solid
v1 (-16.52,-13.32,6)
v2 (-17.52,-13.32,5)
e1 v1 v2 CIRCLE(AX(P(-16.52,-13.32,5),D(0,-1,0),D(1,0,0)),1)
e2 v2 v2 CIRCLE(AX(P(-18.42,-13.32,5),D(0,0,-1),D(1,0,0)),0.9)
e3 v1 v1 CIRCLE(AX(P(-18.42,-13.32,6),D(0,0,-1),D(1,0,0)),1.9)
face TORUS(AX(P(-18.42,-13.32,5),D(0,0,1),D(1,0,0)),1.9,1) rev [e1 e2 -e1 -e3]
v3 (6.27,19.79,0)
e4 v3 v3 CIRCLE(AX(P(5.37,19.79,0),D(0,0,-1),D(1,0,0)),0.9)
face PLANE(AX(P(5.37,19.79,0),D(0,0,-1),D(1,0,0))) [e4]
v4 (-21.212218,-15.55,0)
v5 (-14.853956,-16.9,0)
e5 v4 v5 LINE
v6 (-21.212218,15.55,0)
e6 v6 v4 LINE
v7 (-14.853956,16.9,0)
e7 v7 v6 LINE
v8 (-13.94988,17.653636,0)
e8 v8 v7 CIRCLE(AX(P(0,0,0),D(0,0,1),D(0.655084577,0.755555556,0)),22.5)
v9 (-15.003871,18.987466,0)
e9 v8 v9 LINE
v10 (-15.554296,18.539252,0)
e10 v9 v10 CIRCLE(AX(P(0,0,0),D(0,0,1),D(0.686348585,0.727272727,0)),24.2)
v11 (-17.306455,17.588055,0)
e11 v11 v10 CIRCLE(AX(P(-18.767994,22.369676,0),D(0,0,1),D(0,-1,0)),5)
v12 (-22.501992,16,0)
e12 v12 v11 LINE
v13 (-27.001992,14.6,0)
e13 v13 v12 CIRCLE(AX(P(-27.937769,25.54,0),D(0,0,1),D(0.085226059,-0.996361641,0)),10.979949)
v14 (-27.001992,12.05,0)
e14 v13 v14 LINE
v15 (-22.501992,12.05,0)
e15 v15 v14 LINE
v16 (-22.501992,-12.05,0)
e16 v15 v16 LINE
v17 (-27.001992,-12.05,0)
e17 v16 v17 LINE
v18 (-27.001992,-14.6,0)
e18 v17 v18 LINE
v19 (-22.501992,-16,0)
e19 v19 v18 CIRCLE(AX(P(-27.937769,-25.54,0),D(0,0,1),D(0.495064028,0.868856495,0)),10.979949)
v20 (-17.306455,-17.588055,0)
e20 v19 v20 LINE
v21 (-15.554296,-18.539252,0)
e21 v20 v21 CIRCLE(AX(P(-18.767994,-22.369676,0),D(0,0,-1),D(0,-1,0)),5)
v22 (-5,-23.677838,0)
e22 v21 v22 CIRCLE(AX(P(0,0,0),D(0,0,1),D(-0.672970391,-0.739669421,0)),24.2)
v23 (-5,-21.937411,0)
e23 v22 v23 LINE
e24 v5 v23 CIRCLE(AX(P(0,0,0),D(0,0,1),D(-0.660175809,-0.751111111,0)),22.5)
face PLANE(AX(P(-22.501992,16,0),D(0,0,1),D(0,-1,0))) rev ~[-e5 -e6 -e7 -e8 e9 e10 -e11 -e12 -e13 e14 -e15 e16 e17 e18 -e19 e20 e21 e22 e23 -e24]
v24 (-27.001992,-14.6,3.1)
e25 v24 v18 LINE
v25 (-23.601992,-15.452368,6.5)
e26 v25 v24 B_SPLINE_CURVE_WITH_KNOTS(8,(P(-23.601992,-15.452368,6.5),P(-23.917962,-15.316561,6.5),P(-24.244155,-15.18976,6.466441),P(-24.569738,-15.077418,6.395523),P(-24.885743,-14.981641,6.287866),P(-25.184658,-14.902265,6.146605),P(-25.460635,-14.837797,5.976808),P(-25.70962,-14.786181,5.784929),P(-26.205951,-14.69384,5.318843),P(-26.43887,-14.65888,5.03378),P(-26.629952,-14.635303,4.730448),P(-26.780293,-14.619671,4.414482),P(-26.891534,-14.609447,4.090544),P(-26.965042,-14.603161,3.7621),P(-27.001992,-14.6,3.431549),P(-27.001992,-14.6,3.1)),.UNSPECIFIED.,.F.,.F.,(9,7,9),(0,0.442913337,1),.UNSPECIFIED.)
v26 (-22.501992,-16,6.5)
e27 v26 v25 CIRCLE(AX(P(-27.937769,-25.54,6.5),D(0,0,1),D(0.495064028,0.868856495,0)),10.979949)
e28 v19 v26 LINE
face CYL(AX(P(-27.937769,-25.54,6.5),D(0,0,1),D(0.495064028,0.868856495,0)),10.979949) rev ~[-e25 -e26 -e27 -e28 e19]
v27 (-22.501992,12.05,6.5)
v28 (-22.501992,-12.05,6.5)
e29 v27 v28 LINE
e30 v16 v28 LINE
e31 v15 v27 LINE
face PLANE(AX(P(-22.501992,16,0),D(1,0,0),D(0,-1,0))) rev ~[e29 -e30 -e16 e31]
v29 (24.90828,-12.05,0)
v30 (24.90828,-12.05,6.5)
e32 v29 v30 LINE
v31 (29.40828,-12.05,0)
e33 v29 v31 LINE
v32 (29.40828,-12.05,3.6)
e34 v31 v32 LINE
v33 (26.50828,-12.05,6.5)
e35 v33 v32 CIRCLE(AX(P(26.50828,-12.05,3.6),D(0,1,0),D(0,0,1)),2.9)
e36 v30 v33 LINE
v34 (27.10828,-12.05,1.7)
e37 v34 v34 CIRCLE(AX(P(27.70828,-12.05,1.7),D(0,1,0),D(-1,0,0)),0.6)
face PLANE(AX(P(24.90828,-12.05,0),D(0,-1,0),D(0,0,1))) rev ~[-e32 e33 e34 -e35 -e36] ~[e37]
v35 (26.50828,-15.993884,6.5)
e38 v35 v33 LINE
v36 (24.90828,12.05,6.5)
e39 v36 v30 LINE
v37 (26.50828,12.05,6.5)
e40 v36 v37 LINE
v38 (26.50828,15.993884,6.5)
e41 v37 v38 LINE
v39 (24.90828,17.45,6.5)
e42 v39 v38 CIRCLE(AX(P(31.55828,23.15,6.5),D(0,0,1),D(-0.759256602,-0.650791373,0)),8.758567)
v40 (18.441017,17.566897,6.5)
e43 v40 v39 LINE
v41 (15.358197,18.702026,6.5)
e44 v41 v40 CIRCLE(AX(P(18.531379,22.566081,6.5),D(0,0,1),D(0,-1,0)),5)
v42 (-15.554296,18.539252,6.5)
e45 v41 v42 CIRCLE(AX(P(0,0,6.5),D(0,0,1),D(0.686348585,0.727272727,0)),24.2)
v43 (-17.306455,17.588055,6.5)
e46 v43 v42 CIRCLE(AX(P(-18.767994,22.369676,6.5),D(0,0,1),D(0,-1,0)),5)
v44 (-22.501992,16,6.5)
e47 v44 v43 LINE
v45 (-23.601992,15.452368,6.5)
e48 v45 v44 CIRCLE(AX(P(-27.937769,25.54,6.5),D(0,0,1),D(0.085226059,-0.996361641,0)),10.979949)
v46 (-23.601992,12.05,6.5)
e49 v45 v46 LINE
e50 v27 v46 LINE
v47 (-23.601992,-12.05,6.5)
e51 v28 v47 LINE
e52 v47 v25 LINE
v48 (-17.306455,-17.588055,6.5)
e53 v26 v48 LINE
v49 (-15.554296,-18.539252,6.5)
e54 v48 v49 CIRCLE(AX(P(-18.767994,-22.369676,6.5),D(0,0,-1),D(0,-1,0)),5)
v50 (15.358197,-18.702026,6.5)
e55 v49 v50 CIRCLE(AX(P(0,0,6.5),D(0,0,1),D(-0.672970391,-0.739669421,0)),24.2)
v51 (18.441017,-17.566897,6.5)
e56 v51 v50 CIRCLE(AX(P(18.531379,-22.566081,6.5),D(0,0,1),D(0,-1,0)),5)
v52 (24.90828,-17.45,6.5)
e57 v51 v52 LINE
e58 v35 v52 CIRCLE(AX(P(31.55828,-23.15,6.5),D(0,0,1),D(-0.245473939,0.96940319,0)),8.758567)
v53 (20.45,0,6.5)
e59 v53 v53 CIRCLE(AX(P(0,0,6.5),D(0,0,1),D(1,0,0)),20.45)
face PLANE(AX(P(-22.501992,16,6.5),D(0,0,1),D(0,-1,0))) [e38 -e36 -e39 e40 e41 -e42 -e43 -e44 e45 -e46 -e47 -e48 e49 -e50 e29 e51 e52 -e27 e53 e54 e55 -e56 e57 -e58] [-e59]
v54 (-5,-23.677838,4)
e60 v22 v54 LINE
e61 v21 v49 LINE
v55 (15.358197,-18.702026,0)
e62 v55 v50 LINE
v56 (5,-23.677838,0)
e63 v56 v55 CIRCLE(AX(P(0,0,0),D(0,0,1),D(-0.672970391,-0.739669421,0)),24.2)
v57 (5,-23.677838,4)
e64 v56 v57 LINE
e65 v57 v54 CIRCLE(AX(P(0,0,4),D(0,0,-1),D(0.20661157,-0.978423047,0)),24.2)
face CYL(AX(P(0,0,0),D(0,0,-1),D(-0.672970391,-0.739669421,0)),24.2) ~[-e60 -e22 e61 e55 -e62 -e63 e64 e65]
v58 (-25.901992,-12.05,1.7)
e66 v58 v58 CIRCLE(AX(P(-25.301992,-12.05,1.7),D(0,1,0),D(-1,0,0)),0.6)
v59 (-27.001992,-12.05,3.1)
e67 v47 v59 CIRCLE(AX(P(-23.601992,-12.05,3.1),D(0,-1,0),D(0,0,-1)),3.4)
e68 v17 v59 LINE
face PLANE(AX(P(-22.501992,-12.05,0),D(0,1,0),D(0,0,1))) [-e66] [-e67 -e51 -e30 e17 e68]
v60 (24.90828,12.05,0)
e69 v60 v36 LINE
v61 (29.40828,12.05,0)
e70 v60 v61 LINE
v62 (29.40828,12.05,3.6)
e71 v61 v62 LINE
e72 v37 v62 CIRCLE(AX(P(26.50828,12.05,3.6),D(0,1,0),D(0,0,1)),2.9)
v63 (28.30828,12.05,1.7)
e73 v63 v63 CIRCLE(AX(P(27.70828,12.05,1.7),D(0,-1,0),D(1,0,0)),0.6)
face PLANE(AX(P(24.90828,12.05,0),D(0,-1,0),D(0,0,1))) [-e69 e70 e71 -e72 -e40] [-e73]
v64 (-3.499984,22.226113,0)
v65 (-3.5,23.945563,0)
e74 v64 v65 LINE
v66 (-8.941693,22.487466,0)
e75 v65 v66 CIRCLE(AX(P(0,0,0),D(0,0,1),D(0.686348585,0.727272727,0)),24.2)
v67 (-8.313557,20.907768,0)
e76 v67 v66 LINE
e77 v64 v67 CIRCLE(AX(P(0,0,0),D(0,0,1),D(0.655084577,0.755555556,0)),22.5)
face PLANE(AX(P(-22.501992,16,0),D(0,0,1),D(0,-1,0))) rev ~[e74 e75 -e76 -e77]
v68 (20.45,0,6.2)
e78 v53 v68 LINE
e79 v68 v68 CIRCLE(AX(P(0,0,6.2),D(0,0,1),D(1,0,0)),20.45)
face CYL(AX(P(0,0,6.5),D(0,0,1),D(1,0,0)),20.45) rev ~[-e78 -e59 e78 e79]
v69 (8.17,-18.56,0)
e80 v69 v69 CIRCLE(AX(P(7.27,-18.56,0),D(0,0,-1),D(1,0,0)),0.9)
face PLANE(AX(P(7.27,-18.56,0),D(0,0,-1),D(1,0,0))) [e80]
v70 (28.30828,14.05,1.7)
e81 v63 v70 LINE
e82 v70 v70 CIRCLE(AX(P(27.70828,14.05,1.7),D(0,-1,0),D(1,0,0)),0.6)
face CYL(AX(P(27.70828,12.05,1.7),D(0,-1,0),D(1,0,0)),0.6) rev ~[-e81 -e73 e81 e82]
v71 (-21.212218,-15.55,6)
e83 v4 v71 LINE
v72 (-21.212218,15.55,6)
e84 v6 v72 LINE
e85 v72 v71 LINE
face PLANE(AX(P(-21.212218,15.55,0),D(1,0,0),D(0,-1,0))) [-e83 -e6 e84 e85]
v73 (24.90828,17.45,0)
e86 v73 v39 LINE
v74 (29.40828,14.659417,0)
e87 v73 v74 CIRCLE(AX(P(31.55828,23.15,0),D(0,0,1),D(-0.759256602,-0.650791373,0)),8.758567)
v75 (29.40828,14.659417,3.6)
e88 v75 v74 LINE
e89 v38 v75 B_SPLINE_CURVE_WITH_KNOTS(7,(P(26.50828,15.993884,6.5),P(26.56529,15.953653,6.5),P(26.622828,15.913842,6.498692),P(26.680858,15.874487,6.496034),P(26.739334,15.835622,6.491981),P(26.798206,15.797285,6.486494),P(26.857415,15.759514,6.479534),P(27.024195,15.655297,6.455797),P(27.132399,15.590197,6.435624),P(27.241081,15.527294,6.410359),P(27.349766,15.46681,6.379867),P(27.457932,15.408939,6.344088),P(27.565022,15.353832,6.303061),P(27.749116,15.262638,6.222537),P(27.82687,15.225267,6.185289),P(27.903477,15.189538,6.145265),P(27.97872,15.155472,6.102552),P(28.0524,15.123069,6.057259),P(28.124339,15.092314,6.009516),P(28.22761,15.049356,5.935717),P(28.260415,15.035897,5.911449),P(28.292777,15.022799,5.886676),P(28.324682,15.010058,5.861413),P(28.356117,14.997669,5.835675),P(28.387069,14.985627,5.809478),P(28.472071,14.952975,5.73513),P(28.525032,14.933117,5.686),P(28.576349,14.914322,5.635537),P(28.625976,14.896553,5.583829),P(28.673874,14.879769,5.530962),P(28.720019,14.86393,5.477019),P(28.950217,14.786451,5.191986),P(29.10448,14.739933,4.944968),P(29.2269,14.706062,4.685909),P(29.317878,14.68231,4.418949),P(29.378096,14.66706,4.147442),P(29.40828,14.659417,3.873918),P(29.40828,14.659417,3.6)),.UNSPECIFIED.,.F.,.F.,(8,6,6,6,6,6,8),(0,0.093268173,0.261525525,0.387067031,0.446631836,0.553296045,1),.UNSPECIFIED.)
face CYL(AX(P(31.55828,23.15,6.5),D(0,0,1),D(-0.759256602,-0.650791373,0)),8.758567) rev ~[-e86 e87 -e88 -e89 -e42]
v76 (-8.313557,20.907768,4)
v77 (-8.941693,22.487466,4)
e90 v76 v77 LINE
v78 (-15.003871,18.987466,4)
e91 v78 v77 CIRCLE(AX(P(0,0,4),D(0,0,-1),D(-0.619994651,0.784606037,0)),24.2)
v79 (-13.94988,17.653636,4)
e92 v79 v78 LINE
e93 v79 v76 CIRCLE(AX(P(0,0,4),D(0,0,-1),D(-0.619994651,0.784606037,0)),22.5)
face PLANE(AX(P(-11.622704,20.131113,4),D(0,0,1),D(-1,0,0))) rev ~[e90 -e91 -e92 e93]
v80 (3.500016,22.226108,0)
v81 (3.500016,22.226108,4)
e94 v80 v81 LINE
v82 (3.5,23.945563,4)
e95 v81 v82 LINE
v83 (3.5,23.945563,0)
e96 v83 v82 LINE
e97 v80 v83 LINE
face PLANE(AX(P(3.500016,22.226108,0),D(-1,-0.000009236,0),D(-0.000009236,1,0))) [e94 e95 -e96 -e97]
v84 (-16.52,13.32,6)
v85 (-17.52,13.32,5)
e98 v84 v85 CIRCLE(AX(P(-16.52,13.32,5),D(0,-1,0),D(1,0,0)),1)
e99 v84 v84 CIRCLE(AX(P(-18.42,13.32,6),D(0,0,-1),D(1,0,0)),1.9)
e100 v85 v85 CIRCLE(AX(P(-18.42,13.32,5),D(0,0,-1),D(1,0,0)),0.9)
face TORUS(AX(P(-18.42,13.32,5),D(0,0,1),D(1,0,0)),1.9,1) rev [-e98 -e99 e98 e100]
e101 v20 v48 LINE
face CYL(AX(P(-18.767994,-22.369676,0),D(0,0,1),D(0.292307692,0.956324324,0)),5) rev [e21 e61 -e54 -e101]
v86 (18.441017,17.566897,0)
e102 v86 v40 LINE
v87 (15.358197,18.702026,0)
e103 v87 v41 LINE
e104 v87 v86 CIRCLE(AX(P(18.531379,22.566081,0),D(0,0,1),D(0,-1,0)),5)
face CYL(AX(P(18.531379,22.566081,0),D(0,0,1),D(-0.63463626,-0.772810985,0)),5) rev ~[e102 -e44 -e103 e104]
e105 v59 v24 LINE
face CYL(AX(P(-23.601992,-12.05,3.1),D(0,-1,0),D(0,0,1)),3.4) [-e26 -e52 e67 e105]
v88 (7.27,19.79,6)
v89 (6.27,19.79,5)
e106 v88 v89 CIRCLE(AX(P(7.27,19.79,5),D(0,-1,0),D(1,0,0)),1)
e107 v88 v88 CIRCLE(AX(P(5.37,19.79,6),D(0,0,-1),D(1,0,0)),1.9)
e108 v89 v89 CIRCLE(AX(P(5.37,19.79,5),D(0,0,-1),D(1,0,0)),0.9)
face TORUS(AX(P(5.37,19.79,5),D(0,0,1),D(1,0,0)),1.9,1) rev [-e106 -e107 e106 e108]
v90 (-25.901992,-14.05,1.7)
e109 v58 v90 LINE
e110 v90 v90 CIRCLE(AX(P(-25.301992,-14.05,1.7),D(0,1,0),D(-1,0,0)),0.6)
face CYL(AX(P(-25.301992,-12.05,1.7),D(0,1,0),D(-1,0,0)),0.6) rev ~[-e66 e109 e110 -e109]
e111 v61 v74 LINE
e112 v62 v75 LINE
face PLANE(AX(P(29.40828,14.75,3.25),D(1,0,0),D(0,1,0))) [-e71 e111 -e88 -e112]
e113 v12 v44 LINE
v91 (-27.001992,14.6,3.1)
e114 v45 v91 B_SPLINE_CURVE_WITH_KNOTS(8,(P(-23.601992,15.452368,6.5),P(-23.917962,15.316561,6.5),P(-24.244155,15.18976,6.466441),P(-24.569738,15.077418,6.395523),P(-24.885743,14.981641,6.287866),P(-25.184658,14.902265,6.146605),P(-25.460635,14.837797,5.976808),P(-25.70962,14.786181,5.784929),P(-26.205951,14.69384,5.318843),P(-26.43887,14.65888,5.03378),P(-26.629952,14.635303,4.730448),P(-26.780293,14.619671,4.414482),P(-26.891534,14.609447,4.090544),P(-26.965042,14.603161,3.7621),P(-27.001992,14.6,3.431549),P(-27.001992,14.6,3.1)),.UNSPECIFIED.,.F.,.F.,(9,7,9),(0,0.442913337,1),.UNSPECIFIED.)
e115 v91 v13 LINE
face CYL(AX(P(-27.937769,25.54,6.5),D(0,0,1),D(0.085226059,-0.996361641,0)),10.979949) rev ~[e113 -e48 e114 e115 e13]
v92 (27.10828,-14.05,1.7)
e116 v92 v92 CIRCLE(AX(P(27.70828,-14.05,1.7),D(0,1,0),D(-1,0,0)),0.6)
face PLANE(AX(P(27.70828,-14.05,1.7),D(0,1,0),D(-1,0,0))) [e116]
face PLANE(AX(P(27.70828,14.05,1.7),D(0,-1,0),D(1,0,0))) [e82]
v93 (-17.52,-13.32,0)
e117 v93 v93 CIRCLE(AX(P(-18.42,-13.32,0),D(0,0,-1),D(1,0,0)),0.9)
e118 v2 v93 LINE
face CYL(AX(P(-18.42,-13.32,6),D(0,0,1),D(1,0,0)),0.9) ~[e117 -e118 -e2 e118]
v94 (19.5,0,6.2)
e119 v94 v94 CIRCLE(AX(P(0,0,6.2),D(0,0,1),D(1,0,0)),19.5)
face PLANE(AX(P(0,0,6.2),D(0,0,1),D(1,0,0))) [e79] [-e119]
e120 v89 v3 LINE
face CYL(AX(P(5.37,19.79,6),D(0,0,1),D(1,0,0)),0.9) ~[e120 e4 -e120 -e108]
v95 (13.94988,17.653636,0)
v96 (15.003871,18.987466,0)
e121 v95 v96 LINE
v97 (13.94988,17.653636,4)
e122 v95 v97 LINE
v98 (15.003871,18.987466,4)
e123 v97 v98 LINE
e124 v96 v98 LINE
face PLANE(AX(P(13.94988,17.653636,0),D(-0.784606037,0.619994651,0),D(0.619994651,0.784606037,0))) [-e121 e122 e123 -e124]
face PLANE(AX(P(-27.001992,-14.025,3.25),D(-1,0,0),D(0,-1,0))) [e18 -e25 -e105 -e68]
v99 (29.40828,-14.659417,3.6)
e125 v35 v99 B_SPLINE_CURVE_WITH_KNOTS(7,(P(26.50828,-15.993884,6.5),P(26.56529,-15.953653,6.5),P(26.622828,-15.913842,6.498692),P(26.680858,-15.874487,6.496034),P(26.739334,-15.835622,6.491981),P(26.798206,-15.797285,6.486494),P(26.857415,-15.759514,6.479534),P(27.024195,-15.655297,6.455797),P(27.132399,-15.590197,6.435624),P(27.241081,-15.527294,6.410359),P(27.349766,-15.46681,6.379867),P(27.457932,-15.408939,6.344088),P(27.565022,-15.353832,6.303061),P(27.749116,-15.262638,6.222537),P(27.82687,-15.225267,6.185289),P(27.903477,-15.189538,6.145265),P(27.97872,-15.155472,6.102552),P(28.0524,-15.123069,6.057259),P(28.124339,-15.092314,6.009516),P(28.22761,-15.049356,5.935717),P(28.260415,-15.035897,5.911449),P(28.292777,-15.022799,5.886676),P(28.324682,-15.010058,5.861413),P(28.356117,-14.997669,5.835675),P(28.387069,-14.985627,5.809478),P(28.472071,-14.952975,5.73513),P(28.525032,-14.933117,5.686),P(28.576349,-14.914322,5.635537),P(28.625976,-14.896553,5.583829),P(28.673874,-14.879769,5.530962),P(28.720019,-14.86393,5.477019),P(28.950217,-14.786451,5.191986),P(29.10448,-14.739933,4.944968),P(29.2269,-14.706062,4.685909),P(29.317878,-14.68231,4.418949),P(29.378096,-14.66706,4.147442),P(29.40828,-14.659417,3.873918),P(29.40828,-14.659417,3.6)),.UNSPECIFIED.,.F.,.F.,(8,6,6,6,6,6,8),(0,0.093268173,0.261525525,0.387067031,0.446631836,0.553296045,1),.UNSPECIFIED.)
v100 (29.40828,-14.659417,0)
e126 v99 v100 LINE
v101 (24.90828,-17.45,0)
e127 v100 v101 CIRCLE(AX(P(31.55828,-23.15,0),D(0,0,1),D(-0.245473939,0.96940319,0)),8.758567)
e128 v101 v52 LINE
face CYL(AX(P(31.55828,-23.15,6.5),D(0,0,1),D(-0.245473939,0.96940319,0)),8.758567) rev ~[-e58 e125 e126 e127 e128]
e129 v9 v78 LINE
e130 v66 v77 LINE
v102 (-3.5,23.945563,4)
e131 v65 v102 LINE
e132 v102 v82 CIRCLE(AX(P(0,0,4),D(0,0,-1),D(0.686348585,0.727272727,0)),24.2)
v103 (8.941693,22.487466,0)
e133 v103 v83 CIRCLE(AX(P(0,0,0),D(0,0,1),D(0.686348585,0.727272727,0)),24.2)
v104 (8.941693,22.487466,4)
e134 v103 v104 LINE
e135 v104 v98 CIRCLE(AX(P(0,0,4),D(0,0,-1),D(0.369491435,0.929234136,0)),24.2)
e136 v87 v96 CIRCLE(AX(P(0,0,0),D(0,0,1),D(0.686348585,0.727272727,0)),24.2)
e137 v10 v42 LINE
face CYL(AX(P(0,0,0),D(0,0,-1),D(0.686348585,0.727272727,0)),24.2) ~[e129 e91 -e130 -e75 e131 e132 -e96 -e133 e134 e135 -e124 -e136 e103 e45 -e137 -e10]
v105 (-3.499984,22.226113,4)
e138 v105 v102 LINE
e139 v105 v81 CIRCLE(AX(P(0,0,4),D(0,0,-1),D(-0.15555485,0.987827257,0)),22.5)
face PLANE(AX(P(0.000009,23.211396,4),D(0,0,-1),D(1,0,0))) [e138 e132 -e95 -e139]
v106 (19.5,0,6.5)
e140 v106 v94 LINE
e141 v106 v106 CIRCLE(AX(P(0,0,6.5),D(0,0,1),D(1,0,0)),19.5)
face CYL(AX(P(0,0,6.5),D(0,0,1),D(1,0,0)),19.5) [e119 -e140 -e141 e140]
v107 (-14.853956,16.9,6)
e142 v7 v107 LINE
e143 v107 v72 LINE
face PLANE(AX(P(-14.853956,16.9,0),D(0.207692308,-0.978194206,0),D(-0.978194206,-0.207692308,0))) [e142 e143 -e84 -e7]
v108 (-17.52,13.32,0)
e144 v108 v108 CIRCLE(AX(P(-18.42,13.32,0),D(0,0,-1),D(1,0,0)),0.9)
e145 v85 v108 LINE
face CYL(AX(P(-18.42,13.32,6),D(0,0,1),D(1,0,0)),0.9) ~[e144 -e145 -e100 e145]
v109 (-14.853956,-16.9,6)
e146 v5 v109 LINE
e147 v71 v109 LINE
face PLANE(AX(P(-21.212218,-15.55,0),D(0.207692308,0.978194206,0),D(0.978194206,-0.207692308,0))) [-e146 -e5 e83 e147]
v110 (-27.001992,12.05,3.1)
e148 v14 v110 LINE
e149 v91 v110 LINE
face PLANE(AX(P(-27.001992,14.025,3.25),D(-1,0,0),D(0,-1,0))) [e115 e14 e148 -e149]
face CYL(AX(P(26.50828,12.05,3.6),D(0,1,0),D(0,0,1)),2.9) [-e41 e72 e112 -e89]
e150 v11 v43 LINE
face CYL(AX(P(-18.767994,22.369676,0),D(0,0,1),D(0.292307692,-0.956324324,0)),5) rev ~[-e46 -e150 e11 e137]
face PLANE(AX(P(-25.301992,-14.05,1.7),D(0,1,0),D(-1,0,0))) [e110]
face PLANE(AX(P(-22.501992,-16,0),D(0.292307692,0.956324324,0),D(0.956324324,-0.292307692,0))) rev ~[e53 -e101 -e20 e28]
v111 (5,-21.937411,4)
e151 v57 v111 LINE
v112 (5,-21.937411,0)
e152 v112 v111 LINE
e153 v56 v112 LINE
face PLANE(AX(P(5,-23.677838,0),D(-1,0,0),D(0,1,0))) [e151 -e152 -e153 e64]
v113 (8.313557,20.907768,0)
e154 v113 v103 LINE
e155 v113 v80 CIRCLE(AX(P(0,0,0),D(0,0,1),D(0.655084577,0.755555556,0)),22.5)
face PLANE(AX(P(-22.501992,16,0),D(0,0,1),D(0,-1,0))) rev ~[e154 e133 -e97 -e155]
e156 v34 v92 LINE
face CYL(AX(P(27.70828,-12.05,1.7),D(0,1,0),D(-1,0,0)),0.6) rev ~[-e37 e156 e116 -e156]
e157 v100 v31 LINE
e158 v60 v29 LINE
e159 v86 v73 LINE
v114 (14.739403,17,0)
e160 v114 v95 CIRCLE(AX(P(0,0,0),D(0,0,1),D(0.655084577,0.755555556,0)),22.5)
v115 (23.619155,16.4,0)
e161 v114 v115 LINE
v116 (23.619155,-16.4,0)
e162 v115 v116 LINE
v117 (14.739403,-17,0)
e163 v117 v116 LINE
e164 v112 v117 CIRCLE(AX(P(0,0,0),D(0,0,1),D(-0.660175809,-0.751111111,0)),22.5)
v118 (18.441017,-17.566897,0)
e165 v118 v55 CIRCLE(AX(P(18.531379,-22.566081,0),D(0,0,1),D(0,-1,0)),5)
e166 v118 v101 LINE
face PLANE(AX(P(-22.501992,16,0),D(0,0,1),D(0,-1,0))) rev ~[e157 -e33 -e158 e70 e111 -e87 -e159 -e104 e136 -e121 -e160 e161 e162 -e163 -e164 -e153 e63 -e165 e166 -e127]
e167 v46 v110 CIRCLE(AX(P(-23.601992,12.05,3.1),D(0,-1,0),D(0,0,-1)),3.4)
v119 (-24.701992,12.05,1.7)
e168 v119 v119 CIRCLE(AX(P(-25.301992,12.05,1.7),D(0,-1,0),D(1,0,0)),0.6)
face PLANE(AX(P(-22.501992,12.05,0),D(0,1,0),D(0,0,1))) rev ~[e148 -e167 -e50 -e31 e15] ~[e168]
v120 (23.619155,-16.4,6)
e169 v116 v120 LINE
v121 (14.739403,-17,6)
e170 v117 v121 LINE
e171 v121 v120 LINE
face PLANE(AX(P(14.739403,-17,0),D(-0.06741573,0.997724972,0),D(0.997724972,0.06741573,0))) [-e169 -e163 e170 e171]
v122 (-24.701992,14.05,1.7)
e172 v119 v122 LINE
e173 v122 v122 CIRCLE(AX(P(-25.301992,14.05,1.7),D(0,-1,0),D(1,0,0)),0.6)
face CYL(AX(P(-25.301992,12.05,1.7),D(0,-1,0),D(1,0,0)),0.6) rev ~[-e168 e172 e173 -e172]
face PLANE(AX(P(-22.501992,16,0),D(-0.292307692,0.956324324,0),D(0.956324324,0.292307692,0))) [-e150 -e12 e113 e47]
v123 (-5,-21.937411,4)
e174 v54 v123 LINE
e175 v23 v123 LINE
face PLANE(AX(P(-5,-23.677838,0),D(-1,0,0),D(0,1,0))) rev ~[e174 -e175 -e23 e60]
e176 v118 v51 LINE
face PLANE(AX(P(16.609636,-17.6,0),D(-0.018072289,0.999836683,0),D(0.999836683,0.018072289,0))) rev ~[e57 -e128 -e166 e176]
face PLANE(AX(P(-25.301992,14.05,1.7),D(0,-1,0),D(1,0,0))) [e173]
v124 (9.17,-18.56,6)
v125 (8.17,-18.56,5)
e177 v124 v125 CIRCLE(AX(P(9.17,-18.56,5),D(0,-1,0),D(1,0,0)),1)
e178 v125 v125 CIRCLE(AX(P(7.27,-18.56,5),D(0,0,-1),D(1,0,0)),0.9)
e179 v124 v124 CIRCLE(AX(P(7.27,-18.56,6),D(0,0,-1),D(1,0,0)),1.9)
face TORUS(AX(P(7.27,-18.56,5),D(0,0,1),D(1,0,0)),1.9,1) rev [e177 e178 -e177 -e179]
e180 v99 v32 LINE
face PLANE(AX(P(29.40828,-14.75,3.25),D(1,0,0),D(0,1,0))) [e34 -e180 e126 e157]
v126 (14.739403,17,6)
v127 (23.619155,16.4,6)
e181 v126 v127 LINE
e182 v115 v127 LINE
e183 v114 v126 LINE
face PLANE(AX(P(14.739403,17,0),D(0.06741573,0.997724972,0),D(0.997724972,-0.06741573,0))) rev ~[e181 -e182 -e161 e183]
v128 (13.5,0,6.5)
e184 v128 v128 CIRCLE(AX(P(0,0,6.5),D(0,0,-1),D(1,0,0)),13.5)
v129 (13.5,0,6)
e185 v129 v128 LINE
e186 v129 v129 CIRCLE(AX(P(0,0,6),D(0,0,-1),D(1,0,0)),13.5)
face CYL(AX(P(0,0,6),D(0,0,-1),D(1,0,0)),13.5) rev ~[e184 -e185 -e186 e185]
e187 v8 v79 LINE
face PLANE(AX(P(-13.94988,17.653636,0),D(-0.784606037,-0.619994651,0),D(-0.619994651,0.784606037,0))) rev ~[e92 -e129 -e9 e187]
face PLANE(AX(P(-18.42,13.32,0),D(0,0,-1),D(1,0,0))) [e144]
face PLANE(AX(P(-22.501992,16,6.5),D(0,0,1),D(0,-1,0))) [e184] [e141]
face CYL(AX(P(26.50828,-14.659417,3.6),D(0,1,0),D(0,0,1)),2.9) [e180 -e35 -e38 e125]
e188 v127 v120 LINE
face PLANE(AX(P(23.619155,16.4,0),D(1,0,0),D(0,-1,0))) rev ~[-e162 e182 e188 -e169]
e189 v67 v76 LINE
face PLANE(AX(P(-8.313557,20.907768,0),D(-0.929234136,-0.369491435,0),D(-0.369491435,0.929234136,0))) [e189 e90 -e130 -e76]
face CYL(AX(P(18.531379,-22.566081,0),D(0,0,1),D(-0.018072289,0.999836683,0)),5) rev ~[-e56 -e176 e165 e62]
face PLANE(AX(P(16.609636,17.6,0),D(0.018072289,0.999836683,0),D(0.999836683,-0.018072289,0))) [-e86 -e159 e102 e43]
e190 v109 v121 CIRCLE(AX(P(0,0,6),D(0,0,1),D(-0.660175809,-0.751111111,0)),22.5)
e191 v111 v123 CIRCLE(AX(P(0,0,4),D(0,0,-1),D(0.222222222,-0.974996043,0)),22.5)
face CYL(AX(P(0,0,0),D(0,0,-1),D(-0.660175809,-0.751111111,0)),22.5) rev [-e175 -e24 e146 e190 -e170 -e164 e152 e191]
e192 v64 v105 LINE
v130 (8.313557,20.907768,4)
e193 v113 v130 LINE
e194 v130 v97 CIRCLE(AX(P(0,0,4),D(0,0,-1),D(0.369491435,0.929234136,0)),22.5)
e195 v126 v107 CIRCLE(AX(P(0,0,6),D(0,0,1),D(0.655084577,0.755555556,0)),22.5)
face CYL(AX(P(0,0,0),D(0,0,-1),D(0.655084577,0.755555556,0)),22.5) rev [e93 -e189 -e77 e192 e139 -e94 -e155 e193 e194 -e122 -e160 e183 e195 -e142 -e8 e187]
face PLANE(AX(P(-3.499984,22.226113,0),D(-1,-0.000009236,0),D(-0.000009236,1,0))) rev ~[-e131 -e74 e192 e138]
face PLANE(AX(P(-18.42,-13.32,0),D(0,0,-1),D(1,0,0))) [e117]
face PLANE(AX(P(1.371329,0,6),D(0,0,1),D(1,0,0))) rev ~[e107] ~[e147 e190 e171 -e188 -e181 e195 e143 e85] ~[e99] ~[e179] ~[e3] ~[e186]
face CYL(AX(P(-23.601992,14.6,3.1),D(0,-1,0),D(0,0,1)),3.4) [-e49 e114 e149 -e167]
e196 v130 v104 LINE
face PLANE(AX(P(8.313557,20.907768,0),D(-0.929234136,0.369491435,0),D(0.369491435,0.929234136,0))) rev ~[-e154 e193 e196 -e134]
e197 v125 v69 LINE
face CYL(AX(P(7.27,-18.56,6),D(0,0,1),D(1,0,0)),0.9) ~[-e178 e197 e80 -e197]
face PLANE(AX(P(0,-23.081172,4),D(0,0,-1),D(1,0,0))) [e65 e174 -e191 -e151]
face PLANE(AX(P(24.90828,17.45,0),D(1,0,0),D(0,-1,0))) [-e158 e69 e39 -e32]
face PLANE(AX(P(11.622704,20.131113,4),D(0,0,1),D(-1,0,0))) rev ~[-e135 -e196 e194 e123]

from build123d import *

# Parameters (mm, degrees)
PAD_DEPTH       = 6.5
POCKET_DEPTH    = 6
SKETCH002_R     = 13.5
POCKET001_DEPTH = 1
SKETCH003_W     = 5.4
SKETCH003_H     = 6.5
PAD001_DEPTH    = 4.5
POCKET002_DEPTH = 10
SKETCH008_R     = 0.6
POCKET003_DEPTH = 2
SKETCH009_R     = 0.6
POCKET004_DEPTH = 2
FILLET_R        = 2.9
FILLET001_R     = 2.9
FILLET002_R     = 5
FILLET003_R     = 5
FILLET004_R     = 5
FILLET005_R     = 5
SKETCH010_W     = 3.95
SKETCH010_H     = 6.5
PAD002_DEPTH    = 4.5
POCKET005_DEPTH = 10
SKETCH012_R     = 0.6
POCKET006_DEPTH = 2
SKETCH013_R     = 0.6
POCKET007_DEPTH = 2
FILLET006_R     = 3.4
FILLET007_R     = 3.4
SKETCH014_R     = 20.45
SKETCH014_R_2   = 19.5
POCKET008_DEPTH = 0.3
SKETCH015_R     = 0.9
PAD003_DEPTH    = 6
FILLET008_R     = 1
POCKET009_DEPTH = 4
POCKET010_DEPTH = 4


with BuildPart() as part:
    # Sketch → Pad (new body)
    with BuildSketch(Plane.XY):
        with BuildLine():
            Line((-22.5019915649, 16), (-22.5019915649, -16))
            Line((-22.5019915649, -16), (-16.2858834578, -17.9000000001))
            ThreePointArc((-16.2858834577, -17.9000000001), (0.2206895737, -24.1989937004), (16.6096357576, -17.5999999999))
            Line((16.6096357576, -17.6), (24.9082802252, -17.45))
            Line((24.9082802252, 17.45), (24.9082802252, -17.45))
            Line((16.6096357576, 17.6), (24.9082802252, 17.45))
            ThreePointArc((16.6096357576, 17.6), (0.2206895736, 24.1989937004), (-16.2858834578, 17.9))
            Line((-22.5019915649, 16), (-16.2858834578, 17.9))
        make_face()
    extrude(amount=PAD_DEPTH)

    # Sketch001 → Pocket (cut)
    with BuildSketch(Plane.XY):
        with BuildLine():
            Line((-14.8539557021, 16.9), (-21.2122180433, 15.55))
            Line((-21.2122180433, 15.55), (-21.2122180433, -15.55))
            Line((-21.2122180433, -15.55), (-14.8539557021, -16.9))
            ThreePointArc((-14.8539557021, -16.9), (-0.0760301383, -22.4998715423), (14.739402973, -17))
            Line((14.739402973, -17), (23.6191552218, -16.4))
            Line((23.6191552218, 16.4), (23.6191552218, -16.4))
            Line((14.739402973, 17), (23.6191552218, 16.4))
            ThreePointArc((14.739402973, 17), (-0.0760301383, 22.4998715423), (-14.8539557021, 16.9))
        make_face()
    extrude(amount=POCKET_DEPTH, mode=Mode.SUBTRACT)

    # Sketch002 (on Face19 of Pocket) → Pocket001 (cut)
    with BuildSketch(Plane(origin=(0, 0, 6), x_dir=(1, 0, 0), z_dir=(0, 0, -1))):
        Circle(SKETCH002_R)
    extrude(amount=-POCKET001_DEPTH, mode=Mode.SUBTRACT)

    # Sketch003 (on Face6 of Pocket001) → Pad001 (join)
    with BuildSketch(Plane.YZ.offset(24.9082802252)):
        with Locations((-14.75, 3.25)):
            Rectangle(SKETCH003_W, SKETCH003_H)
        with Locations((14.75, 3.25)):
            Rectangle(SKETCH003_W, SKETCH003_H)
    extrude(amount=PAD001_DEPTH)

    # Sketch006 → Pocket002 (cut)
    with BuildSketch(Plane.XY.offset(6.5)):
        with BuildLine():
            ThreePointArc((24.9082802253, 17.45), (26.9423471239, 15.7065020586), (29.4082802252, 14.6594169812))
            Line((29.4082802252, 17.45), (29.4082802252, 14.6594169812))
            Line((29.4082802252, 17.45), (24.9082802252, 17.45))
        make_face()
        with BuildLine():
            ThreePointArc((29.4082802253, -14.6594169812), (26.9423471239, -15.7065020586), (24.9082802253, -17.45))
            Line((29.4082802252, -17.45), (24.9082802252, -17.45))
            Line((29.4082802252, -14.6594169811), (29.4082802252, -17.45))
        make_face()
    extrude(amount=-POCKET002_DEPTH, mode=Mode.SUBTRACT)

    # Sketch008 (on Face27 of Pocket002) → Pocket003 (cut)
    with BuildSketch(Plane(origin=(0, -12.05, 0), x_dir=(-1, 0, 0), z_dir=(0, 1, 0))):
        with Locations((-27.7082802252, 1.7)):
            Circle(SKETCH008_R)
    extrude(amount=-POCKET003_DEPTH, mode=Mode.SUBTRACT)

    # Sketch009 (on Face26 of Pocket003) → Pocket004 (cut)
    with BuildSketch(Plane.XZ.offset(-12.05)):
        with Locations((27.7082802252, 1.7)):
            Circle(SKETCH009_R)
    extrude(amount=-POCKET004_DEPTH, mode=Mode.SUBTRACT)

    # Fillet
    fillet_edges = [part.edges().sort_by_distance(p)[0] for p in [
        (29.40828, -13.354708, 6.5),
    ]]
    fillet(fillet_edges, radius=FILLET_R)

    # Fillet001
    fillet001_edges = [part.edges().sort_by_distance(p)[0] for p in [
        (29.40828, 13.354708, 6.5),
    ]]
    fillet(fillet001_edges, radius=FILLET001_R)

    # Fillet002
    fillet002_edges = [part.edges().sort_by_distance(p)[0] for p in [
        (16.609636, -17.6, 3.25),
    ]]
    fillet(fillet002_edges, radius=FILLET002_R)

    # Fillet003
    fillet003_edges = [part.edges().sort_by_distance(p)[0] for p in [
        (16.609636, 17.6, 3.25),
    ]]
    fillet(fillet003_edges, radius=FILLET003_R)

    # Fillet004
    fillet004_edges = [part.edges().sort_by_distance(p)[0] for p in [
        (-16.285883, -17.9, 3.25),
    ]]
    fillet(fillet004_edges, radius=FILLET004_R)

    # Fillet005
    fillet005_edges = [part.edges().sort_by_distance(p)[0] for p in [
        (-16.285883, 17.9, 3.25),
    ]]
    fillet(fillet005_edges, radius=FILLET005_R)

    # Sketch010 (on Face4 of Fillet005) → Pad002 (join)
    with BuildSketch(Plane(origin=(-22.5019915649, 0, 0), x_dir=(0, -1, 0), z_dir=(-1, 0, 0))):
        with Locations((-14.025, 3.25)):
            Rectangle(SKETCH010_W, SKETCH010_H)
        with Locations((14.025, 3.25)):
            Rectangle(SKETCH010_W, SKETCH010_H)
    extrude(amount=PAD002_DEPTH)

    # Sketch011 (on Face6 of Pad002) → Pocket005 (cut)
    with BuildSketch(Plane.XY.offset(6.5)):
        with BuildLine():
            ThreePointArc((-27.0019915649, 14.6), (-24.6759937451, 15.0557212933), (-22.5019915649, 16))
            Line((-22.5019915649, 16), (-27.0019915649, 16))
            Line((-27.0019915649, 16), (-27.0019915649, 14.6))
        make_face()
        with BuildLine():
            ThreePointArc((-22.5019915649, -16), (-24.6759937451, -15.0557212933), (-27.0019915649, -14.6))
            Line((-27.0019915649, -14.6), (-27.0019915649, -16))
            Line((-27.0019915649, -16), (-22.5019915649, -16))
        make_face()
    extrude(amount=-POCKET005_DEPTH, mode=Mode.SUBTRACT)

    # Sketch012 (on Face23 of Pocket005) → Pocket006 (cut)
    with BuildSketch(Plane(origin=(0, -12.05, 0), x_dir=(-1, 0, 0), z_dir=(0, 1, 0))):
        with Locations((25.3019915649, 1.7)):
            Circle(SKETCH012_R)
    extrude(amount=-POCKET006_DEPTH, mode=Mode.SUBTRACT)

    # Sketch013 (on Face21 of Pocket006) → Pocket007 (cut)
    with BuildSketch(Plane.XZ.offset(-12.05)):
        with Locations((-25.3019915649, 1.7)):
            Circle(SKETCH013_R)
    extrude(amount=-POCKET007_DEPTH, mode=Mode.SUBTRACT)

    # Fillet006
    fillet006_edges = [part.edges().sort_by_distance(p)[0] for p in [
        (-27.001992, 13.325, 6.5),
    ]]
    fillet(fillet006_edges, radius=FILLET006_R)

    # Fillet007
    fillet007_edges = [part.edges().sort_by_distance(p)[0] for p in [
        (-27.001992, -13.325, 6.5),
    ]]
    fillet(fillet007_edges, radius=FILLET007_R)

    # Sketch014 (on Face4 of Fillet007) → Pocket008 (cut)
    with BuildSketch(Plane.XY.offset(6.5)):
        Circle(SKETCH014_R)
        Circle(SKETCH014_R_2, mode=Mode.SUBTRACT)
    extrude(amount=-POCKET008_DEPTH, mode=Mode.SUBTRACT)

    # Sketch015 (on Face55 of Pocket008) → Pad003 (join)
    with BuildSketch(Plane(origin=(0, 0, 6), x_dir=(1, 0, 0), z_dir=(0, 0, -1))):
        with Locations((-18.42, 13.32)):
            Circle(SKETCH015_R)
        with Locations((-18.42, -13.32)):
            Circle(SKETCH015_R)
        with Locations((7.27, 18.56)):
            Circle(SKETCH015_R)
        with Locations((5.37, -19.79)):
            Circle(SKETCH015_R)
    extrude(amount=PAD003_DEPTH)

    # Fillet008
    fillet008_edges = [part.edges().sort_by_distance(p)[0] for p in [
        (-19.32, -13.32, 6),
        (6.37, -18.56, 6),
        (-19.32, 13.32, 6),
        (4.47, 19.79, 6),
    ]]
    fillet(fillet008_edges, radius=FILLET008_R)

    # Sketch016 (on Face16 of Fillet008) → Pocket009 (cut)
    with BuildSketch(Plane(origin=(0, 0, 0), x_dir=(1, 0, 0), z_dir=(0, 0, -1))):
        with BuildLine():
            Line((-5, 23.6778377391), (-5, 21.9374109685))
            ThreePointArc((5, 21.9374109685), (0, 22.5), (-5, 21.9374109685))
            Line((5, 23.6778377391), (5, 21.9374109685))
            ThreePointArc((5, 23.6778377391), (0, 24.2), (-5, 23.6778377391))
        make_face()
    extrude(amount=-POCKET009_DEPTH, mode=Mode.SUBTRACT)

    # Sketch017 (on Face16 of Pocket009) → Pocket010 (cut)
    with BuildSketch(Plane(origin=(0, 0, 0), x_dir=(1, 0, 0), z_dir=(0, 0, -1))):
        with BuildLine():
            Line((-3.499984119, -22.2261132717), (-3.5, -23.9455632634))
            ThreePointArc((-3.5, -23.9455632634), (0, -24.2000019575), (3.5, -23.9455632634))
            Line((3.5000158811, -22.2261082701), (3.5, -23.9455632634))
            ThreePointArc((-3.499984119, -22.2261132717), (1.60767e-05, -22.5), (3.5000158811, -22.2261082701))
        make_face()
        with BuildLine():
            ThreePointArc((-13.9498796389, -17.6536358312), (-11.25, -19.4855715851), (-8.3135572795, -20.9077680626))
            Line((-8.3135572795, -20.9077680626), (-8.9416927184, -22.487466094))
            ThreePointArc((-15.0038705449, -18.987466094), (-12.1, -20.9578147716), (-8.9416927184, -22.487466094))
            Line((-13.9498796389, -17.6536358312), (-15.0038705449, -18.987466094))
        make_face()
        with BuildLine():
            ThreePointArc((8.3135572795, -20.9077680626), (11.25, -19.4855715851), (13.9498796389, -17.6536358312))
            Line((13.9498796389, -17.6536358312), (15.0038705449, -18.987466094))
            ThreePointArc((8.9416927184, -22.487466094), (12.1, -20.9578147716), (15.0038705449, -18.987466094))
            Line((8.3135572795, -20.9077680626), (8.9416927184, -22.487466094))
        make_face()
    extrude(amount=-POCKET010_DEPTH, mode=Mode.SUBTRACT)


solid = part.part
